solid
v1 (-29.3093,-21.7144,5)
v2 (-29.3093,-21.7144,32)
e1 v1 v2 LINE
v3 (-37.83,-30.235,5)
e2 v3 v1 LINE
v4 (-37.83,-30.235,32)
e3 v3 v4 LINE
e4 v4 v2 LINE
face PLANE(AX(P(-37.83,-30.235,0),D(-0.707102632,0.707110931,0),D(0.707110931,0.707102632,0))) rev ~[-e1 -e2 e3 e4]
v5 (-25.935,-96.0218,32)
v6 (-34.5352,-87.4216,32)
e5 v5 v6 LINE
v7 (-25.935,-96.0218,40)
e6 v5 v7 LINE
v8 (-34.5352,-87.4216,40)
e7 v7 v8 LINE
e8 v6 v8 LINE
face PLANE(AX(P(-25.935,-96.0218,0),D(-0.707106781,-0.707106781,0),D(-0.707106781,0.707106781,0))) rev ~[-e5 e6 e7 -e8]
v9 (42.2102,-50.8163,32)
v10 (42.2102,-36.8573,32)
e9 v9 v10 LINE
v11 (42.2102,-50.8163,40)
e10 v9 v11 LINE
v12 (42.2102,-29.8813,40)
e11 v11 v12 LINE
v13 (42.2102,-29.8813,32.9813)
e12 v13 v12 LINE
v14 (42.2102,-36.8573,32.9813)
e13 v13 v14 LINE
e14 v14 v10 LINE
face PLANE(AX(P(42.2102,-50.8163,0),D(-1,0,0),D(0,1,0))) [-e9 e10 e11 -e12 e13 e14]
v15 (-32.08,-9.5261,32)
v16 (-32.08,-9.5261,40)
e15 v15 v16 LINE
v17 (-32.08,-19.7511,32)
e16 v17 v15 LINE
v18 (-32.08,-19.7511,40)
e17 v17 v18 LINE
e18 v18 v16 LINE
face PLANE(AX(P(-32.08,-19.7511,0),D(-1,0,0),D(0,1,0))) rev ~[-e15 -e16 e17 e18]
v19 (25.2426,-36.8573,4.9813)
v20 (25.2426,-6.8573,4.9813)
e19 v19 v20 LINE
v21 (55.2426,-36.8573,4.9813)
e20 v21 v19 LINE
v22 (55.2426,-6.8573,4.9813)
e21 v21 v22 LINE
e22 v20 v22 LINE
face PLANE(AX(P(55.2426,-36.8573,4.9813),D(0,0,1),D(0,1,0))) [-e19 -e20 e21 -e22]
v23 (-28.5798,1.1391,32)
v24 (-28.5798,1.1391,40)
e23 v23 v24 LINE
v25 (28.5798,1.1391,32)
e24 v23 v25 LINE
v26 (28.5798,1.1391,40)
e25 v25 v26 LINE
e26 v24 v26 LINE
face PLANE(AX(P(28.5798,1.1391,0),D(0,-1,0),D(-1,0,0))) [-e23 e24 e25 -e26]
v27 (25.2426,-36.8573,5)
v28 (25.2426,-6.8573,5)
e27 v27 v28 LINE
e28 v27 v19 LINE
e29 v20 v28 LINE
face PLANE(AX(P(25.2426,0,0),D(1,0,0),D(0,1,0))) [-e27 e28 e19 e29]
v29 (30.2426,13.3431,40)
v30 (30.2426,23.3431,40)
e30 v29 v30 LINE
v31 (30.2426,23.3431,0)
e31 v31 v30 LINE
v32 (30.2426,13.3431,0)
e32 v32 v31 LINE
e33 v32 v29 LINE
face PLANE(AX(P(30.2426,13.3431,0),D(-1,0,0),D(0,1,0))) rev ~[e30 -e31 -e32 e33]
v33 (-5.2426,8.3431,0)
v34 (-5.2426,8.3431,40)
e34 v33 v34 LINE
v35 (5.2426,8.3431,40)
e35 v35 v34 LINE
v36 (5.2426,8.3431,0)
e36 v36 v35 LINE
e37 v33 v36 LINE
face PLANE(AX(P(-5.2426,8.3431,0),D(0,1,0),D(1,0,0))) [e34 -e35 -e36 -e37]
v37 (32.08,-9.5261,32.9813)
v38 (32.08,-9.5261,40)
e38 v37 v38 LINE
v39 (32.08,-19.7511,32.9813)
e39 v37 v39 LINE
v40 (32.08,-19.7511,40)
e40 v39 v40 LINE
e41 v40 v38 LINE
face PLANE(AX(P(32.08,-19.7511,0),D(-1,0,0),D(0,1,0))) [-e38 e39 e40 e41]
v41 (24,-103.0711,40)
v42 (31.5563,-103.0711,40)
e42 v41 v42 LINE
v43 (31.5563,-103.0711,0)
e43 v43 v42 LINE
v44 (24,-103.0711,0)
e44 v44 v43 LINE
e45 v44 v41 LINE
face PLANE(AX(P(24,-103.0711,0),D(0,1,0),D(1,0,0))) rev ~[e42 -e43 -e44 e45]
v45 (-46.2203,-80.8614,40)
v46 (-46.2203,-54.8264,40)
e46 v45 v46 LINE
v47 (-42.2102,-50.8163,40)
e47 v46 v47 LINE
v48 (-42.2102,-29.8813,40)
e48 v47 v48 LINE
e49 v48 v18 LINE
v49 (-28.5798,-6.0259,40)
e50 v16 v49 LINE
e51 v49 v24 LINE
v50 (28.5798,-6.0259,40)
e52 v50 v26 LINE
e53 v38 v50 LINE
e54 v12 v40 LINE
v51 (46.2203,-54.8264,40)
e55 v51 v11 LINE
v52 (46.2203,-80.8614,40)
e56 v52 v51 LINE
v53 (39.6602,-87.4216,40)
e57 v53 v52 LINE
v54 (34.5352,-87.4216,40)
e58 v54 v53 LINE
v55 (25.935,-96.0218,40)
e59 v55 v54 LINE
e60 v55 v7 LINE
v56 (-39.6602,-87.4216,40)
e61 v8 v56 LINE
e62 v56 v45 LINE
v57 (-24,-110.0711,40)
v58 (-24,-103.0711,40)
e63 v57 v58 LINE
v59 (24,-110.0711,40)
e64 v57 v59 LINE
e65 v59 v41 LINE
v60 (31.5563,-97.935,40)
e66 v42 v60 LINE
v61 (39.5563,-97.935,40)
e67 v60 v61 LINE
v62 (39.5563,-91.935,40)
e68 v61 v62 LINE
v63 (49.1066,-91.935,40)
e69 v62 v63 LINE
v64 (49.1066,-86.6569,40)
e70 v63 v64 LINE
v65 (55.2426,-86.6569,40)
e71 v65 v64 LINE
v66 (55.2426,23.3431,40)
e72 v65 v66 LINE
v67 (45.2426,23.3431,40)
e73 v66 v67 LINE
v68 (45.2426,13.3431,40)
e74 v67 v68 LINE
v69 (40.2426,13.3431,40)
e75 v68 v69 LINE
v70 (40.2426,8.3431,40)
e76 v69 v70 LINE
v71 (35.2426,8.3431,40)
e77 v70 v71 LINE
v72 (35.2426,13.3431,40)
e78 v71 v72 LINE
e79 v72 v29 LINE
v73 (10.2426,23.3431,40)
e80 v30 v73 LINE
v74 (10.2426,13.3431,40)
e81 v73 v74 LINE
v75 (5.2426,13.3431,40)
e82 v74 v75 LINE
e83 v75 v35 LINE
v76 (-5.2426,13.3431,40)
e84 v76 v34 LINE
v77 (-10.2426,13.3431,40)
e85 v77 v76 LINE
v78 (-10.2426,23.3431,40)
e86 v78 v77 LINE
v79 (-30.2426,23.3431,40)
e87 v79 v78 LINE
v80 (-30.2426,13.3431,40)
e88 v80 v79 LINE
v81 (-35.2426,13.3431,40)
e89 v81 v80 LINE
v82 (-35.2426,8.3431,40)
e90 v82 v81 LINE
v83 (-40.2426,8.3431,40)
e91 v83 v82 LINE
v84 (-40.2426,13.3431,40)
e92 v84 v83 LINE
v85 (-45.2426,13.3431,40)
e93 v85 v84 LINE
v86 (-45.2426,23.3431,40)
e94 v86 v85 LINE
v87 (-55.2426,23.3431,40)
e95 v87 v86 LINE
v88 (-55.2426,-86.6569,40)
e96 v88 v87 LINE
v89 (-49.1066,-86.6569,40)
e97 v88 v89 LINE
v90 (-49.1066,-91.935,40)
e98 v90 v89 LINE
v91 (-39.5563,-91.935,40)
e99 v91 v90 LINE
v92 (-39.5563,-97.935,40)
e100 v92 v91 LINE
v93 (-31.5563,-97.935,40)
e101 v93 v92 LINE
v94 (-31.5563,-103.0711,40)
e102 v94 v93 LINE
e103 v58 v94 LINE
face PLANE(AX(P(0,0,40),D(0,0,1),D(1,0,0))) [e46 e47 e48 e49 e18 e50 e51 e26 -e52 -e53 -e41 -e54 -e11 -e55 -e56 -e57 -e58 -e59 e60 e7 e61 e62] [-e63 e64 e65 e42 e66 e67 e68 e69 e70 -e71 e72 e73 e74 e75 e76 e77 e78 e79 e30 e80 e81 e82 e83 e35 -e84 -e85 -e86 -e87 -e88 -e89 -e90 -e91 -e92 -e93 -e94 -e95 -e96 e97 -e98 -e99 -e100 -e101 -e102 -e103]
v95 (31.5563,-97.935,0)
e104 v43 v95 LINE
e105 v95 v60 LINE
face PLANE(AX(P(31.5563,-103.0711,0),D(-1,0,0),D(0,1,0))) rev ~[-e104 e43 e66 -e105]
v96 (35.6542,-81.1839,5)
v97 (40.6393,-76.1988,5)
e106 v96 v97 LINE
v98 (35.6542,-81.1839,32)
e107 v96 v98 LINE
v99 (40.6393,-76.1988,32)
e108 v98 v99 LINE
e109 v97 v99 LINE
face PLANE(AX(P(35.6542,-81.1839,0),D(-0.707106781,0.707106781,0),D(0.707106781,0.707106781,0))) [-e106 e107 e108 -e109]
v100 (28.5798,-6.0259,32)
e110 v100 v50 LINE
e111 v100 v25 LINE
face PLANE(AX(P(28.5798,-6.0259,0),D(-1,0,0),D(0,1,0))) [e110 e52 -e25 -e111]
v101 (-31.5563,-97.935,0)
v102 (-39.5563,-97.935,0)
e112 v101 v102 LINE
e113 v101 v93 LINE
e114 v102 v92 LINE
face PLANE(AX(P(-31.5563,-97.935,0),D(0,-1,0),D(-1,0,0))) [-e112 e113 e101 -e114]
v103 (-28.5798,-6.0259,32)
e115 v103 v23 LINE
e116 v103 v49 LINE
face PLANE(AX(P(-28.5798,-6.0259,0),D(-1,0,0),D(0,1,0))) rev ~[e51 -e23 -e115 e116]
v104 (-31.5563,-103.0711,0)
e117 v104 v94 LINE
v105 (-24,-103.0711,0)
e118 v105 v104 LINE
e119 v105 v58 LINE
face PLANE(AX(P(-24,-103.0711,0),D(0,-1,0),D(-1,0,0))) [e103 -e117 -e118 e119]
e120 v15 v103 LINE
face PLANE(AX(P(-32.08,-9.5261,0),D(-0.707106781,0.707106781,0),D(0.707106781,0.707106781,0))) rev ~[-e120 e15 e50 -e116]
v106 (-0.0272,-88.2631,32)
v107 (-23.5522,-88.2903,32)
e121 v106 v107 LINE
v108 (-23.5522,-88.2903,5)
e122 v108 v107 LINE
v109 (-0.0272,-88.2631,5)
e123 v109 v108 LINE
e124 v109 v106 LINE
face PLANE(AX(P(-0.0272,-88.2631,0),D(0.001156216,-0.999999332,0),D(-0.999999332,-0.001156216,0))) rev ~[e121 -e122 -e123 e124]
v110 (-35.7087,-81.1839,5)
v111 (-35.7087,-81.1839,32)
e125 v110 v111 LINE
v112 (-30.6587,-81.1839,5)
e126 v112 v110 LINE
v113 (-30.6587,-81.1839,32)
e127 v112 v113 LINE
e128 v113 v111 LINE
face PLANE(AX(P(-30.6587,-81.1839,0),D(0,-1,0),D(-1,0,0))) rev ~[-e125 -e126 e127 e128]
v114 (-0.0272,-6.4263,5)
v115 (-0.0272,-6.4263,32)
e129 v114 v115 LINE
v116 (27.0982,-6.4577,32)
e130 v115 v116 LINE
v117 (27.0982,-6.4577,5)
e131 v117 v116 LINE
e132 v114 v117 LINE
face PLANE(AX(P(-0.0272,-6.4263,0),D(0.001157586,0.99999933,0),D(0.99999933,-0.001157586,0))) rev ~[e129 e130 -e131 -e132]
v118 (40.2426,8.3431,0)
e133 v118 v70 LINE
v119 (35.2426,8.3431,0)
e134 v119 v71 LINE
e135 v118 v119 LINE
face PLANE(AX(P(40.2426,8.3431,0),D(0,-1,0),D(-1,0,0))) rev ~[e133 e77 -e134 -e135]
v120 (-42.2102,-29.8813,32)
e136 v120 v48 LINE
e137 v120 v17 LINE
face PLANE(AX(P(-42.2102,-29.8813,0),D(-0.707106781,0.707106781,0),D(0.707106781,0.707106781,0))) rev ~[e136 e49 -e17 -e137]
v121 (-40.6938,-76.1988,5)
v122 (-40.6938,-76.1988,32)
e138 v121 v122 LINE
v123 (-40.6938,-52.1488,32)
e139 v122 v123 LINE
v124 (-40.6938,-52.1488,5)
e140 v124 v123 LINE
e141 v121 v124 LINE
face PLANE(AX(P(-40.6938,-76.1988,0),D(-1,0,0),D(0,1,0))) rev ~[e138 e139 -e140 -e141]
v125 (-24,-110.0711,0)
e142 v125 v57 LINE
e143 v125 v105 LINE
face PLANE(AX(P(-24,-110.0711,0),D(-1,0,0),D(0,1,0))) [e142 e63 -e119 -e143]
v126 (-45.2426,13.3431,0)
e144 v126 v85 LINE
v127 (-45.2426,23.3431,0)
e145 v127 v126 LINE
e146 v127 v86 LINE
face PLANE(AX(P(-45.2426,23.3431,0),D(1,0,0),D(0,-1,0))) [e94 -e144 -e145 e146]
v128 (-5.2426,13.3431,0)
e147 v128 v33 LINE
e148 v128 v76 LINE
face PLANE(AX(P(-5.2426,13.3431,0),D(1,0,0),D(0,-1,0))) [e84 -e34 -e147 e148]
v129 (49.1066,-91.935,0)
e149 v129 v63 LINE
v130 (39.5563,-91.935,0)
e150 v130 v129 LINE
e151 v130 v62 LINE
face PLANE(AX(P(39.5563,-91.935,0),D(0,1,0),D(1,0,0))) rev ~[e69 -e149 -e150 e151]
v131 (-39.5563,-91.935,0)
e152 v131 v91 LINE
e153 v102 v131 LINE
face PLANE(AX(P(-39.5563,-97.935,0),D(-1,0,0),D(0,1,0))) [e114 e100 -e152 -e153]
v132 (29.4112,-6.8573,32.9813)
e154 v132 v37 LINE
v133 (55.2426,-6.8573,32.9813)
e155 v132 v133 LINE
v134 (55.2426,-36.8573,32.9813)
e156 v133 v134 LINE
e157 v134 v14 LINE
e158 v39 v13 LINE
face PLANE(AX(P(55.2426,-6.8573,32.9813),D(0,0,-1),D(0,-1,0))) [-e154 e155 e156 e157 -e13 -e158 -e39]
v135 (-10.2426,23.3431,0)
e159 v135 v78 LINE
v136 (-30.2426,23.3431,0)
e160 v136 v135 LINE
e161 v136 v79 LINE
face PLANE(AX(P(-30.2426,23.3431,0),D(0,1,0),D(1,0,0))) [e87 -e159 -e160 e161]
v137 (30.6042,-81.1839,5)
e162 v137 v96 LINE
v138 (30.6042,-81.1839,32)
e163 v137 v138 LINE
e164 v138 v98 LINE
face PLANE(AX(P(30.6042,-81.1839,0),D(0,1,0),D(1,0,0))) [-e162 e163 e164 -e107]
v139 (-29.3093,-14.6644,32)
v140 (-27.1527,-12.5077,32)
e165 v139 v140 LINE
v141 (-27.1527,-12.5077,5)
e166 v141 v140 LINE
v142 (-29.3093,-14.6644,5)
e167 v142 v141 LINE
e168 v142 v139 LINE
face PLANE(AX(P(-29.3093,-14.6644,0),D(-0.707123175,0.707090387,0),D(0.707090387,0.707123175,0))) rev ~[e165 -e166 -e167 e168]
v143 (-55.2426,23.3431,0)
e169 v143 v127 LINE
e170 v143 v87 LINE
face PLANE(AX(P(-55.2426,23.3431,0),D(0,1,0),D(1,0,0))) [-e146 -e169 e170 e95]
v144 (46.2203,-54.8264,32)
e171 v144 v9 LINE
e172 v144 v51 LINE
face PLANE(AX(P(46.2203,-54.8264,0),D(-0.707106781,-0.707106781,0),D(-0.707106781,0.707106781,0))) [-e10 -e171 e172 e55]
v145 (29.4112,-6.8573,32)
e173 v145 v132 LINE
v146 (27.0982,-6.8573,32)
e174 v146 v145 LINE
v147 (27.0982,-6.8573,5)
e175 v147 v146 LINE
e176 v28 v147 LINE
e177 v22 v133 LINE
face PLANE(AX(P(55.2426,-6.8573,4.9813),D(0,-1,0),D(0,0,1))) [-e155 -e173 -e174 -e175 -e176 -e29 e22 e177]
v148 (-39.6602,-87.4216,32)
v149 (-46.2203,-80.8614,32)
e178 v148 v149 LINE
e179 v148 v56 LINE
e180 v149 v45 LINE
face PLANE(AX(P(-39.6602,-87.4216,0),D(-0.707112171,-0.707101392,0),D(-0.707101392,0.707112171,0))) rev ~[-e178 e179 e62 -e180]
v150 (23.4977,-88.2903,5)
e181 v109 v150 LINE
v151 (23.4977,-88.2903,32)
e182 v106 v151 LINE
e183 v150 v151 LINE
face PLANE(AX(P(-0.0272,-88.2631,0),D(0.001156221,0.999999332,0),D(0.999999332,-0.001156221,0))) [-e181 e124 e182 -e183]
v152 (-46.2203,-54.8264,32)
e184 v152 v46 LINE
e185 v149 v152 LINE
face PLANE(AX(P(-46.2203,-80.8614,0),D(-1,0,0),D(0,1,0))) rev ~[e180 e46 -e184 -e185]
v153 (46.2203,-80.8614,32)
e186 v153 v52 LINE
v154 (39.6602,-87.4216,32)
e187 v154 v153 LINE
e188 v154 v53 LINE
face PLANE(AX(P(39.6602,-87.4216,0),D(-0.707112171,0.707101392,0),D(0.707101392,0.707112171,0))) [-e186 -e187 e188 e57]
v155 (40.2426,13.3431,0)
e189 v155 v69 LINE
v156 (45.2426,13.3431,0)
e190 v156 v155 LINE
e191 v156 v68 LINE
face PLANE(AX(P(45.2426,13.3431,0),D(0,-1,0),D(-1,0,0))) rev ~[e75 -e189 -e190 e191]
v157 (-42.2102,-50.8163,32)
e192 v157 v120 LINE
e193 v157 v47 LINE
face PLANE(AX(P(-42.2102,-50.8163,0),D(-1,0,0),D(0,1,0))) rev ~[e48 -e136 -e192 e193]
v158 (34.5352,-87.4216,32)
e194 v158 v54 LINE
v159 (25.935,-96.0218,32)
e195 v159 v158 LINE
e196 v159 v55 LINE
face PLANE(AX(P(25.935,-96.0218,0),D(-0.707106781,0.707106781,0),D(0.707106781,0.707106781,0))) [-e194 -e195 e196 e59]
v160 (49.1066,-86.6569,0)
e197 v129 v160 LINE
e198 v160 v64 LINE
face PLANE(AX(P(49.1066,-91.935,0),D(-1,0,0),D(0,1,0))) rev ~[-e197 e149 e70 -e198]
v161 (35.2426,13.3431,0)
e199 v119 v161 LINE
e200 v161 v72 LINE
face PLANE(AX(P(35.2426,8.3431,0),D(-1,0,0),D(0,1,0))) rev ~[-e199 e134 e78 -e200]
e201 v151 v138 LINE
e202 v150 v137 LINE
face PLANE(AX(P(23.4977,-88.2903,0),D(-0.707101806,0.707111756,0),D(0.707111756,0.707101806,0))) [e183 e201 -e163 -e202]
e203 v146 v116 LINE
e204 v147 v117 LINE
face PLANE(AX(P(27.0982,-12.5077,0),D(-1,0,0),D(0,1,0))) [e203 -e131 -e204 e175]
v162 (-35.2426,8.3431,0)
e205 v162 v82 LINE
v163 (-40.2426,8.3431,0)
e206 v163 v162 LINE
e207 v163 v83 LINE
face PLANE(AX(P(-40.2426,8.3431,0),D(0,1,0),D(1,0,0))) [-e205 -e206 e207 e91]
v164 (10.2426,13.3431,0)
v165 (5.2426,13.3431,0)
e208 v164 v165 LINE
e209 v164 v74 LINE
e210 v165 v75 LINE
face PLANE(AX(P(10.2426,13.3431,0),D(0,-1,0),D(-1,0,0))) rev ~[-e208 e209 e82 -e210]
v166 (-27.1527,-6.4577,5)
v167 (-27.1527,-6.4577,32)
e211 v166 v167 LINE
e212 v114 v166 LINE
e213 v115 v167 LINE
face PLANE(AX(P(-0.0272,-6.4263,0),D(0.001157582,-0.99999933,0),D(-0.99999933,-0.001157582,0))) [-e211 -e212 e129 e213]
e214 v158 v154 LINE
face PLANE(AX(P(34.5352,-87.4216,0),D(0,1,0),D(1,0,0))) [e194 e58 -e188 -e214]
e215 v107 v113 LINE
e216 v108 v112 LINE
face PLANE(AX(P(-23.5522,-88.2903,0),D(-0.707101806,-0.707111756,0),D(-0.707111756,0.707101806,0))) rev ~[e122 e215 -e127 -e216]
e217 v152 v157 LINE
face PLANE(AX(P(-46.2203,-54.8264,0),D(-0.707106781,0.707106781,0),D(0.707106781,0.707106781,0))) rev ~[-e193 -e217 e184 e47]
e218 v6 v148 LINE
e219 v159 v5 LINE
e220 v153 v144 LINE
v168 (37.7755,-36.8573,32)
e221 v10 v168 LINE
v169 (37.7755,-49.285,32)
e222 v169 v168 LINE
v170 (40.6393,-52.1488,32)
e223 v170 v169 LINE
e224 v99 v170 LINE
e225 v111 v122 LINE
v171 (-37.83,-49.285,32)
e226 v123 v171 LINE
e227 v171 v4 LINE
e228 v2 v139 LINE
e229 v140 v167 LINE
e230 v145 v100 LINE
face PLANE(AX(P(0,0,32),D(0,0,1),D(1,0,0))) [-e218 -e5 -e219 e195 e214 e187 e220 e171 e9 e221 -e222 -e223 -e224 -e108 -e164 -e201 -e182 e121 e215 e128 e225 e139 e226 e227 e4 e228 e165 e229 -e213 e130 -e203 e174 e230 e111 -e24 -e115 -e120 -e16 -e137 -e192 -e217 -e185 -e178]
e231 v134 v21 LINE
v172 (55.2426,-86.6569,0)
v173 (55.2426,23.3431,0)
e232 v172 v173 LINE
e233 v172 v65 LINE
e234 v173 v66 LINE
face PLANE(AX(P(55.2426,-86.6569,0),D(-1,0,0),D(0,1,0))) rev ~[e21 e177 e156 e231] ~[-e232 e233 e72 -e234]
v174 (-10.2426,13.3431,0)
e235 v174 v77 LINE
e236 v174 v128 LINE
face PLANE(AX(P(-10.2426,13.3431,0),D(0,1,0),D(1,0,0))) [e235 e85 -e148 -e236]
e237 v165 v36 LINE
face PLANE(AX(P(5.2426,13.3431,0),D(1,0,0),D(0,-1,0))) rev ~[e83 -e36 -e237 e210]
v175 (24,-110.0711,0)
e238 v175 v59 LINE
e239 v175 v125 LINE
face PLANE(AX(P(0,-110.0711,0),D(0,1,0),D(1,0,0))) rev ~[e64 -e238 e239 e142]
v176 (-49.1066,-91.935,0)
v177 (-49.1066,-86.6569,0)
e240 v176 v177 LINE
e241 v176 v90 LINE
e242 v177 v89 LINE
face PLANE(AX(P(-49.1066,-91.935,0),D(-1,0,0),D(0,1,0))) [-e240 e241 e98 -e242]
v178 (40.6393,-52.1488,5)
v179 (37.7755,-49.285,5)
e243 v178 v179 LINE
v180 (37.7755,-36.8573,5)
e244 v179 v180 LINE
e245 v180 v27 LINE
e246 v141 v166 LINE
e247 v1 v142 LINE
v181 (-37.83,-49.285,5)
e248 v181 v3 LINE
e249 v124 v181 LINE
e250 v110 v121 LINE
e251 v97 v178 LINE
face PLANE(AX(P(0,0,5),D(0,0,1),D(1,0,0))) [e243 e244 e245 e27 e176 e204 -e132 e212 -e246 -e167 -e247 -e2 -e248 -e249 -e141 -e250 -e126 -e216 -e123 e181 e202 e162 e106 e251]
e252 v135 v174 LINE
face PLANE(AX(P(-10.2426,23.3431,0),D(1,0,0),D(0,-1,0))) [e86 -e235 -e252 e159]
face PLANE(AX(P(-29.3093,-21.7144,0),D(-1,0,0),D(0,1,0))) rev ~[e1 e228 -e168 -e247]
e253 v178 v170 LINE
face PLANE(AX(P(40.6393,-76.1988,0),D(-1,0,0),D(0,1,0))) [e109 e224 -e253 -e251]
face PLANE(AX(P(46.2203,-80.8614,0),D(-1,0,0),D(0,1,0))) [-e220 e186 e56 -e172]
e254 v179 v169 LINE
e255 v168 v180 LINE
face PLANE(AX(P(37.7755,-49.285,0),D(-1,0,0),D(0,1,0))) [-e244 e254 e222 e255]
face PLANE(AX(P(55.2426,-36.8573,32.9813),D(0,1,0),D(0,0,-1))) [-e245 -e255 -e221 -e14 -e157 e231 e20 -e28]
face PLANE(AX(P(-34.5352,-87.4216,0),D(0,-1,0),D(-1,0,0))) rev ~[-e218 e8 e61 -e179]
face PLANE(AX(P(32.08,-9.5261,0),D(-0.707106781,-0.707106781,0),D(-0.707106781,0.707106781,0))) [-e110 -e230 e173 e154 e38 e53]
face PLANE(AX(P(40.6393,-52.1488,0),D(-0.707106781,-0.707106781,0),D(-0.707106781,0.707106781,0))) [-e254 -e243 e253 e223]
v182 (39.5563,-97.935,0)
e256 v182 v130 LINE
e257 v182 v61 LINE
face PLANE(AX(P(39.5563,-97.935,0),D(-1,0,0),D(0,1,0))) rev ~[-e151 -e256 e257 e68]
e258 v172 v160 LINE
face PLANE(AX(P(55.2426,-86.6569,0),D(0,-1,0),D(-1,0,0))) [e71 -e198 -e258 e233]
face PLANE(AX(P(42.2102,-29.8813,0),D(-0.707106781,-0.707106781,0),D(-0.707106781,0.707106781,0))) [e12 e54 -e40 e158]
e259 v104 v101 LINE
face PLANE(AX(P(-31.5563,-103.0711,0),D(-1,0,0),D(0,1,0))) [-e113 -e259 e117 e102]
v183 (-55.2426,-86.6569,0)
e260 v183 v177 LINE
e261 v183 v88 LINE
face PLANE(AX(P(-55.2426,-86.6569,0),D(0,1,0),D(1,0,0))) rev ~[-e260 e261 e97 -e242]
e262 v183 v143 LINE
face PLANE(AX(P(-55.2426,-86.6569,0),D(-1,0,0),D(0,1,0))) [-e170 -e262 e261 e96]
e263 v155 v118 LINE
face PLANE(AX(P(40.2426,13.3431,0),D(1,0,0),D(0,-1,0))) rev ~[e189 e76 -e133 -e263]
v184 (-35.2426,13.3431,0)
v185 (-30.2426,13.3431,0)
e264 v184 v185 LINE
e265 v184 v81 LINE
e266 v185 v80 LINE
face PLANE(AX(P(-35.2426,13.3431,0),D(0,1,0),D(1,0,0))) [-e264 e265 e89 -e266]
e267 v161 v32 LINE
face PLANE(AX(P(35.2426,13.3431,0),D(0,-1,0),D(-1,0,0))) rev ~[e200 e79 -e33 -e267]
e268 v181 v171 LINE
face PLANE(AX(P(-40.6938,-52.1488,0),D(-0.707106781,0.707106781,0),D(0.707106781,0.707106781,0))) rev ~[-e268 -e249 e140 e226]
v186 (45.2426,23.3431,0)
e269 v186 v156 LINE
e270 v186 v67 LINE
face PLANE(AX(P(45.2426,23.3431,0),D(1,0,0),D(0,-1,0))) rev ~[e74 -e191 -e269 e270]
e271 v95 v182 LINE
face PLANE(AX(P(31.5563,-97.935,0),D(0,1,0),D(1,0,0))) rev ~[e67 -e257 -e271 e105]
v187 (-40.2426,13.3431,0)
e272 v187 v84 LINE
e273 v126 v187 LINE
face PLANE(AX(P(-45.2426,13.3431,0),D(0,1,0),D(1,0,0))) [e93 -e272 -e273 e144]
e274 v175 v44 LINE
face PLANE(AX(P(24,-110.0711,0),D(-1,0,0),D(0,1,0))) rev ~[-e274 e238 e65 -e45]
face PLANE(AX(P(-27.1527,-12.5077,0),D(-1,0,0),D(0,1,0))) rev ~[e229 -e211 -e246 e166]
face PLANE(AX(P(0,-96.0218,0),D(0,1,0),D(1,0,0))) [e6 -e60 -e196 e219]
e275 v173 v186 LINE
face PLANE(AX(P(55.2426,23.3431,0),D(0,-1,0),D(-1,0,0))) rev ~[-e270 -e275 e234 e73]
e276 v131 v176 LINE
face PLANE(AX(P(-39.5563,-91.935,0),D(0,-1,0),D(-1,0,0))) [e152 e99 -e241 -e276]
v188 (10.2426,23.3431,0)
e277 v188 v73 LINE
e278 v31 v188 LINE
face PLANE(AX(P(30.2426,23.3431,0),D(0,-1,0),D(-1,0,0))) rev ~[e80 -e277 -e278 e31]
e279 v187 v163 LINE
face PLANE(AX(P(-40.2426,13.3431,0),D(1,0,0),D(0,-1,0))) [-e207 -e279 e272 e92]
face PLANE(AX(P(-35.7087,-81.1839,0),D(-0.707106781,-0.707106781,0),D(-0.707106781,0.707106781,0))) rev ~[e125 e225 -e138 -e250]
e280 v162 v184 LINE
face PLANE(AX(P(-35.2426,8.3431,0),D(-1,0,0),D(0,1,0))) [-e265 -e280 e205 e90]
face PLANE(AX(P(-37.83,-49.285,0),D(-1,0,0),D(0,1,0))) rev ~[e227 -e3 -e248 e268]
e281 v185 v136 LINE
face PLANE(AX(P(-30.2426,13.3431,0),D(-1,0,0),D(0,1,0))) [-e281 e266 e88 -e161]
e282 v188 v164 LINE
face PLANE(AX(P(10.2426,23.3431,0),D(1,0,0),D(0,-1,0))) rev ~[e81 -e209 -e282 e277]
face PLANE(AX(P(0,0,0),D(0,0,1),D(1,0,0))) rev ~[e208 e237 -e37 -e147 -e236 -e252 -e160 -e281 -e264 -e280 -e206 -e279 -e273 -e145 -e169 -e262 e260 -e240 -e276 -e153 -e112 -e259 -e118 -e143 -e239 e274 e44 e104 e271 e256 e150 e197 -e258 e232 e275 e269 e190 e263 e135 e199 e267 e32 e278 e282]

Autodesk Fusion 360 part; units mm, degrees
sketch "Boceto1" plane through (0, 0, 0) normal (0, 0, 1) x (1, 0, 0)
  line L0 (0, 0) -> (0, 10) construction
  line L1 (55.2426, -86.6569) -> (49.1066, -86.6569)
  line L2 (0, -110.0711) -> (24, -110.0711)
  line L3 (24, -110.0711) -> (24, -103.0711)
  line L4 (24, -103.0711) -> (31.5563, -103.0711)
  line L5 (31.5563, -103.0711) -> (31.5563, -97.935)
  line L6 (31.5563, -97.935) -> (39.5563, -97.935)
  line L7 (39.5563, -97.935) -> (39.5563, -91.935)
  line L8 (39.5563, -91.935) -> (49.1066, -91.935)
  line L9 (49.1066, -91.935) -> (49.1066, -86.6569)
  line L10 (55.2426, -86.6569) -> (55.2426, 23.3431)
  line L11 (55.2426, 23.3431) -> (45.2426, 23.3431)
  line L12 (45.2426, 23.3431) -> (45.2426, 13.3431)
  line L13 (45.2426, 13.3431) -> (40.2426, 13.3431)
  line L14 (40.2426, 13.3431) -> (40.2426, 8.3431)
  line L15 (40.2426, 8.3431) -> (35.2426, 8.3431)
  line L16 (35.2426, 8.3431) -> (35.2426, 13.3431)
  line L17 (35.2426, 13.3431) -> (30.2426, 13.3431)
  line L18 (30.2426, 13.3431) -> (30.2426, 23.3431)
  line L19 (30.2426, 23.3431) -> (10.2426, 23.3431)
  line L20 (10.2426, 23.3431) -> (10.2426, 13.3431)
  line L21 (10.2426, 13.3431) -> (5.2426, 13.3431)
  line L22 (5.2426, 13.3431) -> (5.2426, 8.3431)
  line L23 (5.2426, 8.3431) -> (0, 8.3431)
  line L24 (0, -110.0711) -> (-24, -110.0711)
  line L25 (-24, -110.0711) -> (-24, -103.0711)
  line L26 (-24, -103.0711) -> (-31.5563, -103.0711)
  line L27 (-31.5563, -103.0711) -> (-31.5563, -97.935)
  line L28 (-31.5563, -97.935) -> (-39.5563, -97.935)
  line L29 (-39.5563, -97.935) -> (-39.5563, -91.935)
  line L30 (-39.5563, -91.935) -> (-49.1066, -91.935)
  line L31 (-49.1066, -91.935) -> (-49.1066, -86.6569)
  line L32 (-55.2426, -86.6569) -> (-49.1066, -86.6569)
  line L33 (-55.2426, -86.6569) -> (-55.2426, 23.3431)
  line L34 (-55.2426, 23.3431) -> (-45.2426, 23.3431)
  line L35 (-45.2426, 23.3431) -> (-45.2426, 13.3431)
  line L36 (-45.2426, 13.3431) -> (-40.2426, 13.3431)
  line L37 (-40.2426, 13.3431) -> (-40.2426, 8.3431)
  line L38 (-40.2426, 8.3431) -> (-35.2426, 8.3431)
  line L39 (-35.2426, 8.3431) -> (-35.2426, 13.3431)
  line L40 (-35.2426, 13.3431) -> (-30.2426, 13.3431)
  line L41 (-30.2426, 13.3431) -> (-30.2426, 23.3431)
  line L42 (-30.2426, 23.3431) -> (-10.2426, 23.3431)
  line L43 (-10.2426, 23.3431) -> (-10.2426, 13.3431)
  line L44 (-10.2426, 13.3431) -> (-5.2426, 13.3431)
  line L45 (-5.2426, 13.3431) -> (-5.2426, 8.3431)
  line L46 (-5.2426, 8.3431) -> (0, 8.3431)
  line L47 (-40.4532, -52.2423) -> (-36.5208, -52.2423) construction
  line L48 (-0.0272, -88.2631) -> (-23.5522, -88.2903)
  line L49 (-23.5522, -88.2903) -> (-30.6587, -81.1839)
  line L50 (-23.5522, -88.2903) -> (-13.5022, -88.2903) construction
  line L51 (-30.6587, -81.1839) -> (-35.7087, -81.1839)
  line L52 (-35.7087, -81.1839) -> (-40.6938, -76.1988)
  line L53 (-35.7087, -81.1839) -> (-28.6587, -81.1839) construction
  line L54 (-40.6938, -76.1988) -> (-40.6938, -52.1488)
  line L55 (-40.6938, -52.1488) -> (-37.83, -49.285)
  line L56 (-40.6938, -52.1488) -> (-36.6438, -52.1488) construction
  line L57 (-37.83, -49.285) -> (-37.83, -30.235)
  line L58 (-37.83, -30.235) -> (-29.3093, -21.7144)
  line L59 (-37.83, -30.235) -> (-25.78, -30.235) construction
  line L60 (-29.3093, -21.7144) -> (-29.3093, -14.6644)
  line L61 (-29.3093, -14.6644) -> (-27.1527, -12.5077)
  line L62 (-29.3093, -14.6644) -> (-26.2593, -14.6644) construction
  line L63 (-27.1527, -12.5077) -> (-27.1527, -6.4577)
  line L64 (-0.0272, -88.2631) -> (-0.0272, -6.4263) construction
  line L65 (-0.0272, -6.4263) -> (-27.1527, -6.4577)
  line L66 (-0.0272, -88.2631) -> (23.4977, -88.2903)
  line L67 (23.4977, -88.2903) -> (30.6042, -81.1839)
  line L68 (30.6042, -81.1839) -> (35.6542, -81.1839)
  line L69 (35.6542, -81.1839) -> (40.6393, -76.1988)
  line L70 (40.6393, -76.1988) -> (40.6393, -52.1488)
  line L71 (40.6393, -52.1488) -> (37.7755, -49.285)
  line L72 (37.7755, -49.285) -> (37.7755, -30.235)
  line L73 (37.7755, -30.235) -> (29.2548, -21.7144)
  line L74 (29.2548, -21.7144) -> (29.2548, -14.6644)
  line L75 (29.2548, -14.6644) -> (27.0982, -12.5077)
  line L76 (27.0982, -12.5077) -> (27.0982, -6.4577)
  line L77 (-0.0272, -6.4263) -> (27.0982, -6.4577)
  line L78 (0, -96.0218) -> (0, 0.9507) construction
  line L79 (0, -96.0218) -> (-25.935, -96.0218)
  line L80 (-25.935, -96.0218) -> (-34.5352, -87.4216)
  line L81 (-25.935, -96.0218) -> (-13.7725, -96.0218) construction
  line L82 (-34.5352, -87.4216) -> (-39.6602, -87.4216)
  line L83 (-39.6602, -87.4216) -> (-46.2203, -80.8614)
  line L84 (-39.6602, -87.4216) -> (-30.3827, -87.4216) construction
  line L85 (-46.2203, -80.8614) -> (-46.2203, -54.8264)
  line L86 (-46.2203, -54.8264) -> (-42.2102, -50.8163)
  line L87 (-46.2203, -54.8264) -> (-40.5491, -54.8264) construction
  line L88 (-42.2102, -50.8163) -> (-42.2102, -29.8813)
  line L89 (-42.2102, -29.8813) -> (-32.08, -19.7511)
  line L90 (-42.2102, -29.8813) -> (-27.8839, -29.8813) construction
  line L91 (-32.08, -19.7511) -> (-32.08, -9.5261)
  line L92 (-32.08, -9.5261) -> (-28.5798, -6.0259)
  line L93 (-32.08, -9.5261) -> (-27.13, -9.5261) construction
  line L94 (-28.5798, -6.0259) -> (-28.5798, 1.1391)
  line L95 (-28.5798, 1.1391) -> (0, 1.1391)
  line L96 (0, -96.0218) -> (25.935, -96.0218)
  line L97 (25.935, -96.0218) -> (34.5352, -87.4216)
  line L98 (34.5352, -87.4216) -> (39.6602, -87.4216)
  line L99 (39.6602, -87.4216) -> (46.2203, -80.8614)
  line L100 (46.2203, -80.8614) -> (46.2203, -54.8264)
  line L101 (46.2203, -54.8264) -> (42.2102, -50.8163)
  line L102 (42.2102, -50.8163) -> (42.2102, -29.8813)
  line L103 (42.2102, -29.8813) -> (32.08, -19.7511)
  line L104 (32.08, -19.7511) -> (32.08, -9.5261)
  line L105 (32.08, -9.5261) -> (28.5798, -6.0259)
  line L106 (28.5798, -6.0259) -> (28.5798, 1.1391)
  line L107 (28.5798, 1.1391) -> (0, 1.1391)
  point P0 (0, 4.7536)
  point P1 (0, 4.7536)
  point P2 (0, 4.7536)
  point P3 (0, -47.5355)
  point P4 (0, 2.3859)
  point P5 (0, 2.3859)
  point P6 (0, 2.3859)
  point P7 (0, -47.5355)
  point P8 (0, 0.9507)
  point P9 (0, -47.5355)
  point P10 (0, 0.9507)
  point P11 (0, -47.5355)
  point P12 (0, 0.9507)
  dimension "d46" = 24
  dimension "d48" = 7
  dimension "d49" = 8
  dimension "d50" = 6
  dimension "d52" = 110
  dimension "d53" = 10
  dimension "d54" = 10
  dimension "d55" = 5
  dimension "d56" = 5
  dimension "d57" = 5
  dimension "d58" = 5
  dimension "d59" = 5
  dimension "d60" = 10
  dimension "d61" = 20
  dimension "d62" = 10
  dimension "d63" = 5
  dimension "d64" = 5
  dimension "d144" = 135
  dimension "d145" = 10.05
  dimension "d146" = 5.05
  dimension "d147" = 135
  dimension "d148" = 7.05
  dimension "d149" = 24.05
  dimension "d150" = 4.05
  dimension "d151" = 45
  dimension "d152" = 19.05
  dimension "d153" = 45
  dimension "d154" = 12.05
  dimension "d155" = 7.05
  dimension "d156" = 3.05
  dimension "d157" = 45
  dimension "d158" = 6.05
  dimension "d168" = 135
  dimension "d169" = 12.1625
  dimension "d171" = 5.125
  dimension "d173" = 135
  dimension "d174" = 9.2775
  dimension "d176" = 26.035
  dimension "d178" = 5.6712
  dimension "d179" = 45
  dimension "d181" = 20.935
  dimension "d183" = 45
  dimension "d184" = 14.3262
  dimension "d186" = 10.225
  dimension "d188" = 4.95
  dimension "d189" = 45
  dimension "d191" = 7.165
ref_plane "PlanoDeObra1" through (55.2426, 23.3431, 35) normal (1, 0, 0) x (0, 1, 0)
sketch "Boceto2" plane through (55.2426, 0, 0) normal (1, 0, 0) x (0, 1, 0)
  line L0 (23.1427, -0.0591) -> (-6.8573, -0.0187)
  line L1 (-6.8573, -0.0187) -> (-6.8573, 32.9813)
  line L2 (-6.8573, 32.9813) -> (-36.8573, 32.9813)
  line L3 (-36.8573, 32.9813) -> (-36.8573, 4.9813)
  line L4 (-36.8573, 4.9813) -> (-6.8573, 4.9813)
  dimension "d198" = 30
  dimension "d200" = 30
  dimension "d201" = 28
extrude "Extruir16" add sketch "Boceto1" along normal blind 5 contours L48 L49 L51 L52 L54 L55 L57 L58 L60 L61 L63 L65 L66 L67 L68 L69 L70 L71 L72 L73 L74 L75 L76 L77
extrude "Extruir17" add sketch "Boceto1" along normal blind 32 contours L79 L80 L82 L83 L85 L86 L88 L89 L91 L92 L94 L95 L96 L97 L98 L99 L100 L101 L102 L103 L104 L105 L106 L107
extrude "Extruir18" add sketch "Boceto1" along normal blind 40 contours L1 L2 L3 L4 L5 L6 L7 L8 L9 L10 L11 L12 L13 L14 L15 L16 L17 L18 L19 L20 L21 L22 L23 L24 L25 L26 L27 L28 L29 L30 L31 L32 L33 L34 L35 L36 L37 L38 L39 L40 L41 L42 L43 L44 L45 L46
extrude "Extruir19" cut sketch "Boceto2" along normal mid plane 60
equation "d169 = 12.13748388 mm + 0.025 mm"
equation "d171 = 5.10 mm + 0.025 mm"
equation "d174 = 9.25248834 mm + 0.025 mm"
equation "d176 = 26.01 mm + 0.025 mm"
equation "d178 = 5.64624366 mm + 0.025 mm"
equation "d181 = 20.91 mm + 0.025 mm"
equation "d184 = 14.3012313 mm + 0.025 mm"
equation "d186 = 10.20 mm + 0.025 mm"
equation "d188 = 4.92499554 mm + 0.025 mm"
equation "d191 = 7.14 mm + 0.025 mm"
